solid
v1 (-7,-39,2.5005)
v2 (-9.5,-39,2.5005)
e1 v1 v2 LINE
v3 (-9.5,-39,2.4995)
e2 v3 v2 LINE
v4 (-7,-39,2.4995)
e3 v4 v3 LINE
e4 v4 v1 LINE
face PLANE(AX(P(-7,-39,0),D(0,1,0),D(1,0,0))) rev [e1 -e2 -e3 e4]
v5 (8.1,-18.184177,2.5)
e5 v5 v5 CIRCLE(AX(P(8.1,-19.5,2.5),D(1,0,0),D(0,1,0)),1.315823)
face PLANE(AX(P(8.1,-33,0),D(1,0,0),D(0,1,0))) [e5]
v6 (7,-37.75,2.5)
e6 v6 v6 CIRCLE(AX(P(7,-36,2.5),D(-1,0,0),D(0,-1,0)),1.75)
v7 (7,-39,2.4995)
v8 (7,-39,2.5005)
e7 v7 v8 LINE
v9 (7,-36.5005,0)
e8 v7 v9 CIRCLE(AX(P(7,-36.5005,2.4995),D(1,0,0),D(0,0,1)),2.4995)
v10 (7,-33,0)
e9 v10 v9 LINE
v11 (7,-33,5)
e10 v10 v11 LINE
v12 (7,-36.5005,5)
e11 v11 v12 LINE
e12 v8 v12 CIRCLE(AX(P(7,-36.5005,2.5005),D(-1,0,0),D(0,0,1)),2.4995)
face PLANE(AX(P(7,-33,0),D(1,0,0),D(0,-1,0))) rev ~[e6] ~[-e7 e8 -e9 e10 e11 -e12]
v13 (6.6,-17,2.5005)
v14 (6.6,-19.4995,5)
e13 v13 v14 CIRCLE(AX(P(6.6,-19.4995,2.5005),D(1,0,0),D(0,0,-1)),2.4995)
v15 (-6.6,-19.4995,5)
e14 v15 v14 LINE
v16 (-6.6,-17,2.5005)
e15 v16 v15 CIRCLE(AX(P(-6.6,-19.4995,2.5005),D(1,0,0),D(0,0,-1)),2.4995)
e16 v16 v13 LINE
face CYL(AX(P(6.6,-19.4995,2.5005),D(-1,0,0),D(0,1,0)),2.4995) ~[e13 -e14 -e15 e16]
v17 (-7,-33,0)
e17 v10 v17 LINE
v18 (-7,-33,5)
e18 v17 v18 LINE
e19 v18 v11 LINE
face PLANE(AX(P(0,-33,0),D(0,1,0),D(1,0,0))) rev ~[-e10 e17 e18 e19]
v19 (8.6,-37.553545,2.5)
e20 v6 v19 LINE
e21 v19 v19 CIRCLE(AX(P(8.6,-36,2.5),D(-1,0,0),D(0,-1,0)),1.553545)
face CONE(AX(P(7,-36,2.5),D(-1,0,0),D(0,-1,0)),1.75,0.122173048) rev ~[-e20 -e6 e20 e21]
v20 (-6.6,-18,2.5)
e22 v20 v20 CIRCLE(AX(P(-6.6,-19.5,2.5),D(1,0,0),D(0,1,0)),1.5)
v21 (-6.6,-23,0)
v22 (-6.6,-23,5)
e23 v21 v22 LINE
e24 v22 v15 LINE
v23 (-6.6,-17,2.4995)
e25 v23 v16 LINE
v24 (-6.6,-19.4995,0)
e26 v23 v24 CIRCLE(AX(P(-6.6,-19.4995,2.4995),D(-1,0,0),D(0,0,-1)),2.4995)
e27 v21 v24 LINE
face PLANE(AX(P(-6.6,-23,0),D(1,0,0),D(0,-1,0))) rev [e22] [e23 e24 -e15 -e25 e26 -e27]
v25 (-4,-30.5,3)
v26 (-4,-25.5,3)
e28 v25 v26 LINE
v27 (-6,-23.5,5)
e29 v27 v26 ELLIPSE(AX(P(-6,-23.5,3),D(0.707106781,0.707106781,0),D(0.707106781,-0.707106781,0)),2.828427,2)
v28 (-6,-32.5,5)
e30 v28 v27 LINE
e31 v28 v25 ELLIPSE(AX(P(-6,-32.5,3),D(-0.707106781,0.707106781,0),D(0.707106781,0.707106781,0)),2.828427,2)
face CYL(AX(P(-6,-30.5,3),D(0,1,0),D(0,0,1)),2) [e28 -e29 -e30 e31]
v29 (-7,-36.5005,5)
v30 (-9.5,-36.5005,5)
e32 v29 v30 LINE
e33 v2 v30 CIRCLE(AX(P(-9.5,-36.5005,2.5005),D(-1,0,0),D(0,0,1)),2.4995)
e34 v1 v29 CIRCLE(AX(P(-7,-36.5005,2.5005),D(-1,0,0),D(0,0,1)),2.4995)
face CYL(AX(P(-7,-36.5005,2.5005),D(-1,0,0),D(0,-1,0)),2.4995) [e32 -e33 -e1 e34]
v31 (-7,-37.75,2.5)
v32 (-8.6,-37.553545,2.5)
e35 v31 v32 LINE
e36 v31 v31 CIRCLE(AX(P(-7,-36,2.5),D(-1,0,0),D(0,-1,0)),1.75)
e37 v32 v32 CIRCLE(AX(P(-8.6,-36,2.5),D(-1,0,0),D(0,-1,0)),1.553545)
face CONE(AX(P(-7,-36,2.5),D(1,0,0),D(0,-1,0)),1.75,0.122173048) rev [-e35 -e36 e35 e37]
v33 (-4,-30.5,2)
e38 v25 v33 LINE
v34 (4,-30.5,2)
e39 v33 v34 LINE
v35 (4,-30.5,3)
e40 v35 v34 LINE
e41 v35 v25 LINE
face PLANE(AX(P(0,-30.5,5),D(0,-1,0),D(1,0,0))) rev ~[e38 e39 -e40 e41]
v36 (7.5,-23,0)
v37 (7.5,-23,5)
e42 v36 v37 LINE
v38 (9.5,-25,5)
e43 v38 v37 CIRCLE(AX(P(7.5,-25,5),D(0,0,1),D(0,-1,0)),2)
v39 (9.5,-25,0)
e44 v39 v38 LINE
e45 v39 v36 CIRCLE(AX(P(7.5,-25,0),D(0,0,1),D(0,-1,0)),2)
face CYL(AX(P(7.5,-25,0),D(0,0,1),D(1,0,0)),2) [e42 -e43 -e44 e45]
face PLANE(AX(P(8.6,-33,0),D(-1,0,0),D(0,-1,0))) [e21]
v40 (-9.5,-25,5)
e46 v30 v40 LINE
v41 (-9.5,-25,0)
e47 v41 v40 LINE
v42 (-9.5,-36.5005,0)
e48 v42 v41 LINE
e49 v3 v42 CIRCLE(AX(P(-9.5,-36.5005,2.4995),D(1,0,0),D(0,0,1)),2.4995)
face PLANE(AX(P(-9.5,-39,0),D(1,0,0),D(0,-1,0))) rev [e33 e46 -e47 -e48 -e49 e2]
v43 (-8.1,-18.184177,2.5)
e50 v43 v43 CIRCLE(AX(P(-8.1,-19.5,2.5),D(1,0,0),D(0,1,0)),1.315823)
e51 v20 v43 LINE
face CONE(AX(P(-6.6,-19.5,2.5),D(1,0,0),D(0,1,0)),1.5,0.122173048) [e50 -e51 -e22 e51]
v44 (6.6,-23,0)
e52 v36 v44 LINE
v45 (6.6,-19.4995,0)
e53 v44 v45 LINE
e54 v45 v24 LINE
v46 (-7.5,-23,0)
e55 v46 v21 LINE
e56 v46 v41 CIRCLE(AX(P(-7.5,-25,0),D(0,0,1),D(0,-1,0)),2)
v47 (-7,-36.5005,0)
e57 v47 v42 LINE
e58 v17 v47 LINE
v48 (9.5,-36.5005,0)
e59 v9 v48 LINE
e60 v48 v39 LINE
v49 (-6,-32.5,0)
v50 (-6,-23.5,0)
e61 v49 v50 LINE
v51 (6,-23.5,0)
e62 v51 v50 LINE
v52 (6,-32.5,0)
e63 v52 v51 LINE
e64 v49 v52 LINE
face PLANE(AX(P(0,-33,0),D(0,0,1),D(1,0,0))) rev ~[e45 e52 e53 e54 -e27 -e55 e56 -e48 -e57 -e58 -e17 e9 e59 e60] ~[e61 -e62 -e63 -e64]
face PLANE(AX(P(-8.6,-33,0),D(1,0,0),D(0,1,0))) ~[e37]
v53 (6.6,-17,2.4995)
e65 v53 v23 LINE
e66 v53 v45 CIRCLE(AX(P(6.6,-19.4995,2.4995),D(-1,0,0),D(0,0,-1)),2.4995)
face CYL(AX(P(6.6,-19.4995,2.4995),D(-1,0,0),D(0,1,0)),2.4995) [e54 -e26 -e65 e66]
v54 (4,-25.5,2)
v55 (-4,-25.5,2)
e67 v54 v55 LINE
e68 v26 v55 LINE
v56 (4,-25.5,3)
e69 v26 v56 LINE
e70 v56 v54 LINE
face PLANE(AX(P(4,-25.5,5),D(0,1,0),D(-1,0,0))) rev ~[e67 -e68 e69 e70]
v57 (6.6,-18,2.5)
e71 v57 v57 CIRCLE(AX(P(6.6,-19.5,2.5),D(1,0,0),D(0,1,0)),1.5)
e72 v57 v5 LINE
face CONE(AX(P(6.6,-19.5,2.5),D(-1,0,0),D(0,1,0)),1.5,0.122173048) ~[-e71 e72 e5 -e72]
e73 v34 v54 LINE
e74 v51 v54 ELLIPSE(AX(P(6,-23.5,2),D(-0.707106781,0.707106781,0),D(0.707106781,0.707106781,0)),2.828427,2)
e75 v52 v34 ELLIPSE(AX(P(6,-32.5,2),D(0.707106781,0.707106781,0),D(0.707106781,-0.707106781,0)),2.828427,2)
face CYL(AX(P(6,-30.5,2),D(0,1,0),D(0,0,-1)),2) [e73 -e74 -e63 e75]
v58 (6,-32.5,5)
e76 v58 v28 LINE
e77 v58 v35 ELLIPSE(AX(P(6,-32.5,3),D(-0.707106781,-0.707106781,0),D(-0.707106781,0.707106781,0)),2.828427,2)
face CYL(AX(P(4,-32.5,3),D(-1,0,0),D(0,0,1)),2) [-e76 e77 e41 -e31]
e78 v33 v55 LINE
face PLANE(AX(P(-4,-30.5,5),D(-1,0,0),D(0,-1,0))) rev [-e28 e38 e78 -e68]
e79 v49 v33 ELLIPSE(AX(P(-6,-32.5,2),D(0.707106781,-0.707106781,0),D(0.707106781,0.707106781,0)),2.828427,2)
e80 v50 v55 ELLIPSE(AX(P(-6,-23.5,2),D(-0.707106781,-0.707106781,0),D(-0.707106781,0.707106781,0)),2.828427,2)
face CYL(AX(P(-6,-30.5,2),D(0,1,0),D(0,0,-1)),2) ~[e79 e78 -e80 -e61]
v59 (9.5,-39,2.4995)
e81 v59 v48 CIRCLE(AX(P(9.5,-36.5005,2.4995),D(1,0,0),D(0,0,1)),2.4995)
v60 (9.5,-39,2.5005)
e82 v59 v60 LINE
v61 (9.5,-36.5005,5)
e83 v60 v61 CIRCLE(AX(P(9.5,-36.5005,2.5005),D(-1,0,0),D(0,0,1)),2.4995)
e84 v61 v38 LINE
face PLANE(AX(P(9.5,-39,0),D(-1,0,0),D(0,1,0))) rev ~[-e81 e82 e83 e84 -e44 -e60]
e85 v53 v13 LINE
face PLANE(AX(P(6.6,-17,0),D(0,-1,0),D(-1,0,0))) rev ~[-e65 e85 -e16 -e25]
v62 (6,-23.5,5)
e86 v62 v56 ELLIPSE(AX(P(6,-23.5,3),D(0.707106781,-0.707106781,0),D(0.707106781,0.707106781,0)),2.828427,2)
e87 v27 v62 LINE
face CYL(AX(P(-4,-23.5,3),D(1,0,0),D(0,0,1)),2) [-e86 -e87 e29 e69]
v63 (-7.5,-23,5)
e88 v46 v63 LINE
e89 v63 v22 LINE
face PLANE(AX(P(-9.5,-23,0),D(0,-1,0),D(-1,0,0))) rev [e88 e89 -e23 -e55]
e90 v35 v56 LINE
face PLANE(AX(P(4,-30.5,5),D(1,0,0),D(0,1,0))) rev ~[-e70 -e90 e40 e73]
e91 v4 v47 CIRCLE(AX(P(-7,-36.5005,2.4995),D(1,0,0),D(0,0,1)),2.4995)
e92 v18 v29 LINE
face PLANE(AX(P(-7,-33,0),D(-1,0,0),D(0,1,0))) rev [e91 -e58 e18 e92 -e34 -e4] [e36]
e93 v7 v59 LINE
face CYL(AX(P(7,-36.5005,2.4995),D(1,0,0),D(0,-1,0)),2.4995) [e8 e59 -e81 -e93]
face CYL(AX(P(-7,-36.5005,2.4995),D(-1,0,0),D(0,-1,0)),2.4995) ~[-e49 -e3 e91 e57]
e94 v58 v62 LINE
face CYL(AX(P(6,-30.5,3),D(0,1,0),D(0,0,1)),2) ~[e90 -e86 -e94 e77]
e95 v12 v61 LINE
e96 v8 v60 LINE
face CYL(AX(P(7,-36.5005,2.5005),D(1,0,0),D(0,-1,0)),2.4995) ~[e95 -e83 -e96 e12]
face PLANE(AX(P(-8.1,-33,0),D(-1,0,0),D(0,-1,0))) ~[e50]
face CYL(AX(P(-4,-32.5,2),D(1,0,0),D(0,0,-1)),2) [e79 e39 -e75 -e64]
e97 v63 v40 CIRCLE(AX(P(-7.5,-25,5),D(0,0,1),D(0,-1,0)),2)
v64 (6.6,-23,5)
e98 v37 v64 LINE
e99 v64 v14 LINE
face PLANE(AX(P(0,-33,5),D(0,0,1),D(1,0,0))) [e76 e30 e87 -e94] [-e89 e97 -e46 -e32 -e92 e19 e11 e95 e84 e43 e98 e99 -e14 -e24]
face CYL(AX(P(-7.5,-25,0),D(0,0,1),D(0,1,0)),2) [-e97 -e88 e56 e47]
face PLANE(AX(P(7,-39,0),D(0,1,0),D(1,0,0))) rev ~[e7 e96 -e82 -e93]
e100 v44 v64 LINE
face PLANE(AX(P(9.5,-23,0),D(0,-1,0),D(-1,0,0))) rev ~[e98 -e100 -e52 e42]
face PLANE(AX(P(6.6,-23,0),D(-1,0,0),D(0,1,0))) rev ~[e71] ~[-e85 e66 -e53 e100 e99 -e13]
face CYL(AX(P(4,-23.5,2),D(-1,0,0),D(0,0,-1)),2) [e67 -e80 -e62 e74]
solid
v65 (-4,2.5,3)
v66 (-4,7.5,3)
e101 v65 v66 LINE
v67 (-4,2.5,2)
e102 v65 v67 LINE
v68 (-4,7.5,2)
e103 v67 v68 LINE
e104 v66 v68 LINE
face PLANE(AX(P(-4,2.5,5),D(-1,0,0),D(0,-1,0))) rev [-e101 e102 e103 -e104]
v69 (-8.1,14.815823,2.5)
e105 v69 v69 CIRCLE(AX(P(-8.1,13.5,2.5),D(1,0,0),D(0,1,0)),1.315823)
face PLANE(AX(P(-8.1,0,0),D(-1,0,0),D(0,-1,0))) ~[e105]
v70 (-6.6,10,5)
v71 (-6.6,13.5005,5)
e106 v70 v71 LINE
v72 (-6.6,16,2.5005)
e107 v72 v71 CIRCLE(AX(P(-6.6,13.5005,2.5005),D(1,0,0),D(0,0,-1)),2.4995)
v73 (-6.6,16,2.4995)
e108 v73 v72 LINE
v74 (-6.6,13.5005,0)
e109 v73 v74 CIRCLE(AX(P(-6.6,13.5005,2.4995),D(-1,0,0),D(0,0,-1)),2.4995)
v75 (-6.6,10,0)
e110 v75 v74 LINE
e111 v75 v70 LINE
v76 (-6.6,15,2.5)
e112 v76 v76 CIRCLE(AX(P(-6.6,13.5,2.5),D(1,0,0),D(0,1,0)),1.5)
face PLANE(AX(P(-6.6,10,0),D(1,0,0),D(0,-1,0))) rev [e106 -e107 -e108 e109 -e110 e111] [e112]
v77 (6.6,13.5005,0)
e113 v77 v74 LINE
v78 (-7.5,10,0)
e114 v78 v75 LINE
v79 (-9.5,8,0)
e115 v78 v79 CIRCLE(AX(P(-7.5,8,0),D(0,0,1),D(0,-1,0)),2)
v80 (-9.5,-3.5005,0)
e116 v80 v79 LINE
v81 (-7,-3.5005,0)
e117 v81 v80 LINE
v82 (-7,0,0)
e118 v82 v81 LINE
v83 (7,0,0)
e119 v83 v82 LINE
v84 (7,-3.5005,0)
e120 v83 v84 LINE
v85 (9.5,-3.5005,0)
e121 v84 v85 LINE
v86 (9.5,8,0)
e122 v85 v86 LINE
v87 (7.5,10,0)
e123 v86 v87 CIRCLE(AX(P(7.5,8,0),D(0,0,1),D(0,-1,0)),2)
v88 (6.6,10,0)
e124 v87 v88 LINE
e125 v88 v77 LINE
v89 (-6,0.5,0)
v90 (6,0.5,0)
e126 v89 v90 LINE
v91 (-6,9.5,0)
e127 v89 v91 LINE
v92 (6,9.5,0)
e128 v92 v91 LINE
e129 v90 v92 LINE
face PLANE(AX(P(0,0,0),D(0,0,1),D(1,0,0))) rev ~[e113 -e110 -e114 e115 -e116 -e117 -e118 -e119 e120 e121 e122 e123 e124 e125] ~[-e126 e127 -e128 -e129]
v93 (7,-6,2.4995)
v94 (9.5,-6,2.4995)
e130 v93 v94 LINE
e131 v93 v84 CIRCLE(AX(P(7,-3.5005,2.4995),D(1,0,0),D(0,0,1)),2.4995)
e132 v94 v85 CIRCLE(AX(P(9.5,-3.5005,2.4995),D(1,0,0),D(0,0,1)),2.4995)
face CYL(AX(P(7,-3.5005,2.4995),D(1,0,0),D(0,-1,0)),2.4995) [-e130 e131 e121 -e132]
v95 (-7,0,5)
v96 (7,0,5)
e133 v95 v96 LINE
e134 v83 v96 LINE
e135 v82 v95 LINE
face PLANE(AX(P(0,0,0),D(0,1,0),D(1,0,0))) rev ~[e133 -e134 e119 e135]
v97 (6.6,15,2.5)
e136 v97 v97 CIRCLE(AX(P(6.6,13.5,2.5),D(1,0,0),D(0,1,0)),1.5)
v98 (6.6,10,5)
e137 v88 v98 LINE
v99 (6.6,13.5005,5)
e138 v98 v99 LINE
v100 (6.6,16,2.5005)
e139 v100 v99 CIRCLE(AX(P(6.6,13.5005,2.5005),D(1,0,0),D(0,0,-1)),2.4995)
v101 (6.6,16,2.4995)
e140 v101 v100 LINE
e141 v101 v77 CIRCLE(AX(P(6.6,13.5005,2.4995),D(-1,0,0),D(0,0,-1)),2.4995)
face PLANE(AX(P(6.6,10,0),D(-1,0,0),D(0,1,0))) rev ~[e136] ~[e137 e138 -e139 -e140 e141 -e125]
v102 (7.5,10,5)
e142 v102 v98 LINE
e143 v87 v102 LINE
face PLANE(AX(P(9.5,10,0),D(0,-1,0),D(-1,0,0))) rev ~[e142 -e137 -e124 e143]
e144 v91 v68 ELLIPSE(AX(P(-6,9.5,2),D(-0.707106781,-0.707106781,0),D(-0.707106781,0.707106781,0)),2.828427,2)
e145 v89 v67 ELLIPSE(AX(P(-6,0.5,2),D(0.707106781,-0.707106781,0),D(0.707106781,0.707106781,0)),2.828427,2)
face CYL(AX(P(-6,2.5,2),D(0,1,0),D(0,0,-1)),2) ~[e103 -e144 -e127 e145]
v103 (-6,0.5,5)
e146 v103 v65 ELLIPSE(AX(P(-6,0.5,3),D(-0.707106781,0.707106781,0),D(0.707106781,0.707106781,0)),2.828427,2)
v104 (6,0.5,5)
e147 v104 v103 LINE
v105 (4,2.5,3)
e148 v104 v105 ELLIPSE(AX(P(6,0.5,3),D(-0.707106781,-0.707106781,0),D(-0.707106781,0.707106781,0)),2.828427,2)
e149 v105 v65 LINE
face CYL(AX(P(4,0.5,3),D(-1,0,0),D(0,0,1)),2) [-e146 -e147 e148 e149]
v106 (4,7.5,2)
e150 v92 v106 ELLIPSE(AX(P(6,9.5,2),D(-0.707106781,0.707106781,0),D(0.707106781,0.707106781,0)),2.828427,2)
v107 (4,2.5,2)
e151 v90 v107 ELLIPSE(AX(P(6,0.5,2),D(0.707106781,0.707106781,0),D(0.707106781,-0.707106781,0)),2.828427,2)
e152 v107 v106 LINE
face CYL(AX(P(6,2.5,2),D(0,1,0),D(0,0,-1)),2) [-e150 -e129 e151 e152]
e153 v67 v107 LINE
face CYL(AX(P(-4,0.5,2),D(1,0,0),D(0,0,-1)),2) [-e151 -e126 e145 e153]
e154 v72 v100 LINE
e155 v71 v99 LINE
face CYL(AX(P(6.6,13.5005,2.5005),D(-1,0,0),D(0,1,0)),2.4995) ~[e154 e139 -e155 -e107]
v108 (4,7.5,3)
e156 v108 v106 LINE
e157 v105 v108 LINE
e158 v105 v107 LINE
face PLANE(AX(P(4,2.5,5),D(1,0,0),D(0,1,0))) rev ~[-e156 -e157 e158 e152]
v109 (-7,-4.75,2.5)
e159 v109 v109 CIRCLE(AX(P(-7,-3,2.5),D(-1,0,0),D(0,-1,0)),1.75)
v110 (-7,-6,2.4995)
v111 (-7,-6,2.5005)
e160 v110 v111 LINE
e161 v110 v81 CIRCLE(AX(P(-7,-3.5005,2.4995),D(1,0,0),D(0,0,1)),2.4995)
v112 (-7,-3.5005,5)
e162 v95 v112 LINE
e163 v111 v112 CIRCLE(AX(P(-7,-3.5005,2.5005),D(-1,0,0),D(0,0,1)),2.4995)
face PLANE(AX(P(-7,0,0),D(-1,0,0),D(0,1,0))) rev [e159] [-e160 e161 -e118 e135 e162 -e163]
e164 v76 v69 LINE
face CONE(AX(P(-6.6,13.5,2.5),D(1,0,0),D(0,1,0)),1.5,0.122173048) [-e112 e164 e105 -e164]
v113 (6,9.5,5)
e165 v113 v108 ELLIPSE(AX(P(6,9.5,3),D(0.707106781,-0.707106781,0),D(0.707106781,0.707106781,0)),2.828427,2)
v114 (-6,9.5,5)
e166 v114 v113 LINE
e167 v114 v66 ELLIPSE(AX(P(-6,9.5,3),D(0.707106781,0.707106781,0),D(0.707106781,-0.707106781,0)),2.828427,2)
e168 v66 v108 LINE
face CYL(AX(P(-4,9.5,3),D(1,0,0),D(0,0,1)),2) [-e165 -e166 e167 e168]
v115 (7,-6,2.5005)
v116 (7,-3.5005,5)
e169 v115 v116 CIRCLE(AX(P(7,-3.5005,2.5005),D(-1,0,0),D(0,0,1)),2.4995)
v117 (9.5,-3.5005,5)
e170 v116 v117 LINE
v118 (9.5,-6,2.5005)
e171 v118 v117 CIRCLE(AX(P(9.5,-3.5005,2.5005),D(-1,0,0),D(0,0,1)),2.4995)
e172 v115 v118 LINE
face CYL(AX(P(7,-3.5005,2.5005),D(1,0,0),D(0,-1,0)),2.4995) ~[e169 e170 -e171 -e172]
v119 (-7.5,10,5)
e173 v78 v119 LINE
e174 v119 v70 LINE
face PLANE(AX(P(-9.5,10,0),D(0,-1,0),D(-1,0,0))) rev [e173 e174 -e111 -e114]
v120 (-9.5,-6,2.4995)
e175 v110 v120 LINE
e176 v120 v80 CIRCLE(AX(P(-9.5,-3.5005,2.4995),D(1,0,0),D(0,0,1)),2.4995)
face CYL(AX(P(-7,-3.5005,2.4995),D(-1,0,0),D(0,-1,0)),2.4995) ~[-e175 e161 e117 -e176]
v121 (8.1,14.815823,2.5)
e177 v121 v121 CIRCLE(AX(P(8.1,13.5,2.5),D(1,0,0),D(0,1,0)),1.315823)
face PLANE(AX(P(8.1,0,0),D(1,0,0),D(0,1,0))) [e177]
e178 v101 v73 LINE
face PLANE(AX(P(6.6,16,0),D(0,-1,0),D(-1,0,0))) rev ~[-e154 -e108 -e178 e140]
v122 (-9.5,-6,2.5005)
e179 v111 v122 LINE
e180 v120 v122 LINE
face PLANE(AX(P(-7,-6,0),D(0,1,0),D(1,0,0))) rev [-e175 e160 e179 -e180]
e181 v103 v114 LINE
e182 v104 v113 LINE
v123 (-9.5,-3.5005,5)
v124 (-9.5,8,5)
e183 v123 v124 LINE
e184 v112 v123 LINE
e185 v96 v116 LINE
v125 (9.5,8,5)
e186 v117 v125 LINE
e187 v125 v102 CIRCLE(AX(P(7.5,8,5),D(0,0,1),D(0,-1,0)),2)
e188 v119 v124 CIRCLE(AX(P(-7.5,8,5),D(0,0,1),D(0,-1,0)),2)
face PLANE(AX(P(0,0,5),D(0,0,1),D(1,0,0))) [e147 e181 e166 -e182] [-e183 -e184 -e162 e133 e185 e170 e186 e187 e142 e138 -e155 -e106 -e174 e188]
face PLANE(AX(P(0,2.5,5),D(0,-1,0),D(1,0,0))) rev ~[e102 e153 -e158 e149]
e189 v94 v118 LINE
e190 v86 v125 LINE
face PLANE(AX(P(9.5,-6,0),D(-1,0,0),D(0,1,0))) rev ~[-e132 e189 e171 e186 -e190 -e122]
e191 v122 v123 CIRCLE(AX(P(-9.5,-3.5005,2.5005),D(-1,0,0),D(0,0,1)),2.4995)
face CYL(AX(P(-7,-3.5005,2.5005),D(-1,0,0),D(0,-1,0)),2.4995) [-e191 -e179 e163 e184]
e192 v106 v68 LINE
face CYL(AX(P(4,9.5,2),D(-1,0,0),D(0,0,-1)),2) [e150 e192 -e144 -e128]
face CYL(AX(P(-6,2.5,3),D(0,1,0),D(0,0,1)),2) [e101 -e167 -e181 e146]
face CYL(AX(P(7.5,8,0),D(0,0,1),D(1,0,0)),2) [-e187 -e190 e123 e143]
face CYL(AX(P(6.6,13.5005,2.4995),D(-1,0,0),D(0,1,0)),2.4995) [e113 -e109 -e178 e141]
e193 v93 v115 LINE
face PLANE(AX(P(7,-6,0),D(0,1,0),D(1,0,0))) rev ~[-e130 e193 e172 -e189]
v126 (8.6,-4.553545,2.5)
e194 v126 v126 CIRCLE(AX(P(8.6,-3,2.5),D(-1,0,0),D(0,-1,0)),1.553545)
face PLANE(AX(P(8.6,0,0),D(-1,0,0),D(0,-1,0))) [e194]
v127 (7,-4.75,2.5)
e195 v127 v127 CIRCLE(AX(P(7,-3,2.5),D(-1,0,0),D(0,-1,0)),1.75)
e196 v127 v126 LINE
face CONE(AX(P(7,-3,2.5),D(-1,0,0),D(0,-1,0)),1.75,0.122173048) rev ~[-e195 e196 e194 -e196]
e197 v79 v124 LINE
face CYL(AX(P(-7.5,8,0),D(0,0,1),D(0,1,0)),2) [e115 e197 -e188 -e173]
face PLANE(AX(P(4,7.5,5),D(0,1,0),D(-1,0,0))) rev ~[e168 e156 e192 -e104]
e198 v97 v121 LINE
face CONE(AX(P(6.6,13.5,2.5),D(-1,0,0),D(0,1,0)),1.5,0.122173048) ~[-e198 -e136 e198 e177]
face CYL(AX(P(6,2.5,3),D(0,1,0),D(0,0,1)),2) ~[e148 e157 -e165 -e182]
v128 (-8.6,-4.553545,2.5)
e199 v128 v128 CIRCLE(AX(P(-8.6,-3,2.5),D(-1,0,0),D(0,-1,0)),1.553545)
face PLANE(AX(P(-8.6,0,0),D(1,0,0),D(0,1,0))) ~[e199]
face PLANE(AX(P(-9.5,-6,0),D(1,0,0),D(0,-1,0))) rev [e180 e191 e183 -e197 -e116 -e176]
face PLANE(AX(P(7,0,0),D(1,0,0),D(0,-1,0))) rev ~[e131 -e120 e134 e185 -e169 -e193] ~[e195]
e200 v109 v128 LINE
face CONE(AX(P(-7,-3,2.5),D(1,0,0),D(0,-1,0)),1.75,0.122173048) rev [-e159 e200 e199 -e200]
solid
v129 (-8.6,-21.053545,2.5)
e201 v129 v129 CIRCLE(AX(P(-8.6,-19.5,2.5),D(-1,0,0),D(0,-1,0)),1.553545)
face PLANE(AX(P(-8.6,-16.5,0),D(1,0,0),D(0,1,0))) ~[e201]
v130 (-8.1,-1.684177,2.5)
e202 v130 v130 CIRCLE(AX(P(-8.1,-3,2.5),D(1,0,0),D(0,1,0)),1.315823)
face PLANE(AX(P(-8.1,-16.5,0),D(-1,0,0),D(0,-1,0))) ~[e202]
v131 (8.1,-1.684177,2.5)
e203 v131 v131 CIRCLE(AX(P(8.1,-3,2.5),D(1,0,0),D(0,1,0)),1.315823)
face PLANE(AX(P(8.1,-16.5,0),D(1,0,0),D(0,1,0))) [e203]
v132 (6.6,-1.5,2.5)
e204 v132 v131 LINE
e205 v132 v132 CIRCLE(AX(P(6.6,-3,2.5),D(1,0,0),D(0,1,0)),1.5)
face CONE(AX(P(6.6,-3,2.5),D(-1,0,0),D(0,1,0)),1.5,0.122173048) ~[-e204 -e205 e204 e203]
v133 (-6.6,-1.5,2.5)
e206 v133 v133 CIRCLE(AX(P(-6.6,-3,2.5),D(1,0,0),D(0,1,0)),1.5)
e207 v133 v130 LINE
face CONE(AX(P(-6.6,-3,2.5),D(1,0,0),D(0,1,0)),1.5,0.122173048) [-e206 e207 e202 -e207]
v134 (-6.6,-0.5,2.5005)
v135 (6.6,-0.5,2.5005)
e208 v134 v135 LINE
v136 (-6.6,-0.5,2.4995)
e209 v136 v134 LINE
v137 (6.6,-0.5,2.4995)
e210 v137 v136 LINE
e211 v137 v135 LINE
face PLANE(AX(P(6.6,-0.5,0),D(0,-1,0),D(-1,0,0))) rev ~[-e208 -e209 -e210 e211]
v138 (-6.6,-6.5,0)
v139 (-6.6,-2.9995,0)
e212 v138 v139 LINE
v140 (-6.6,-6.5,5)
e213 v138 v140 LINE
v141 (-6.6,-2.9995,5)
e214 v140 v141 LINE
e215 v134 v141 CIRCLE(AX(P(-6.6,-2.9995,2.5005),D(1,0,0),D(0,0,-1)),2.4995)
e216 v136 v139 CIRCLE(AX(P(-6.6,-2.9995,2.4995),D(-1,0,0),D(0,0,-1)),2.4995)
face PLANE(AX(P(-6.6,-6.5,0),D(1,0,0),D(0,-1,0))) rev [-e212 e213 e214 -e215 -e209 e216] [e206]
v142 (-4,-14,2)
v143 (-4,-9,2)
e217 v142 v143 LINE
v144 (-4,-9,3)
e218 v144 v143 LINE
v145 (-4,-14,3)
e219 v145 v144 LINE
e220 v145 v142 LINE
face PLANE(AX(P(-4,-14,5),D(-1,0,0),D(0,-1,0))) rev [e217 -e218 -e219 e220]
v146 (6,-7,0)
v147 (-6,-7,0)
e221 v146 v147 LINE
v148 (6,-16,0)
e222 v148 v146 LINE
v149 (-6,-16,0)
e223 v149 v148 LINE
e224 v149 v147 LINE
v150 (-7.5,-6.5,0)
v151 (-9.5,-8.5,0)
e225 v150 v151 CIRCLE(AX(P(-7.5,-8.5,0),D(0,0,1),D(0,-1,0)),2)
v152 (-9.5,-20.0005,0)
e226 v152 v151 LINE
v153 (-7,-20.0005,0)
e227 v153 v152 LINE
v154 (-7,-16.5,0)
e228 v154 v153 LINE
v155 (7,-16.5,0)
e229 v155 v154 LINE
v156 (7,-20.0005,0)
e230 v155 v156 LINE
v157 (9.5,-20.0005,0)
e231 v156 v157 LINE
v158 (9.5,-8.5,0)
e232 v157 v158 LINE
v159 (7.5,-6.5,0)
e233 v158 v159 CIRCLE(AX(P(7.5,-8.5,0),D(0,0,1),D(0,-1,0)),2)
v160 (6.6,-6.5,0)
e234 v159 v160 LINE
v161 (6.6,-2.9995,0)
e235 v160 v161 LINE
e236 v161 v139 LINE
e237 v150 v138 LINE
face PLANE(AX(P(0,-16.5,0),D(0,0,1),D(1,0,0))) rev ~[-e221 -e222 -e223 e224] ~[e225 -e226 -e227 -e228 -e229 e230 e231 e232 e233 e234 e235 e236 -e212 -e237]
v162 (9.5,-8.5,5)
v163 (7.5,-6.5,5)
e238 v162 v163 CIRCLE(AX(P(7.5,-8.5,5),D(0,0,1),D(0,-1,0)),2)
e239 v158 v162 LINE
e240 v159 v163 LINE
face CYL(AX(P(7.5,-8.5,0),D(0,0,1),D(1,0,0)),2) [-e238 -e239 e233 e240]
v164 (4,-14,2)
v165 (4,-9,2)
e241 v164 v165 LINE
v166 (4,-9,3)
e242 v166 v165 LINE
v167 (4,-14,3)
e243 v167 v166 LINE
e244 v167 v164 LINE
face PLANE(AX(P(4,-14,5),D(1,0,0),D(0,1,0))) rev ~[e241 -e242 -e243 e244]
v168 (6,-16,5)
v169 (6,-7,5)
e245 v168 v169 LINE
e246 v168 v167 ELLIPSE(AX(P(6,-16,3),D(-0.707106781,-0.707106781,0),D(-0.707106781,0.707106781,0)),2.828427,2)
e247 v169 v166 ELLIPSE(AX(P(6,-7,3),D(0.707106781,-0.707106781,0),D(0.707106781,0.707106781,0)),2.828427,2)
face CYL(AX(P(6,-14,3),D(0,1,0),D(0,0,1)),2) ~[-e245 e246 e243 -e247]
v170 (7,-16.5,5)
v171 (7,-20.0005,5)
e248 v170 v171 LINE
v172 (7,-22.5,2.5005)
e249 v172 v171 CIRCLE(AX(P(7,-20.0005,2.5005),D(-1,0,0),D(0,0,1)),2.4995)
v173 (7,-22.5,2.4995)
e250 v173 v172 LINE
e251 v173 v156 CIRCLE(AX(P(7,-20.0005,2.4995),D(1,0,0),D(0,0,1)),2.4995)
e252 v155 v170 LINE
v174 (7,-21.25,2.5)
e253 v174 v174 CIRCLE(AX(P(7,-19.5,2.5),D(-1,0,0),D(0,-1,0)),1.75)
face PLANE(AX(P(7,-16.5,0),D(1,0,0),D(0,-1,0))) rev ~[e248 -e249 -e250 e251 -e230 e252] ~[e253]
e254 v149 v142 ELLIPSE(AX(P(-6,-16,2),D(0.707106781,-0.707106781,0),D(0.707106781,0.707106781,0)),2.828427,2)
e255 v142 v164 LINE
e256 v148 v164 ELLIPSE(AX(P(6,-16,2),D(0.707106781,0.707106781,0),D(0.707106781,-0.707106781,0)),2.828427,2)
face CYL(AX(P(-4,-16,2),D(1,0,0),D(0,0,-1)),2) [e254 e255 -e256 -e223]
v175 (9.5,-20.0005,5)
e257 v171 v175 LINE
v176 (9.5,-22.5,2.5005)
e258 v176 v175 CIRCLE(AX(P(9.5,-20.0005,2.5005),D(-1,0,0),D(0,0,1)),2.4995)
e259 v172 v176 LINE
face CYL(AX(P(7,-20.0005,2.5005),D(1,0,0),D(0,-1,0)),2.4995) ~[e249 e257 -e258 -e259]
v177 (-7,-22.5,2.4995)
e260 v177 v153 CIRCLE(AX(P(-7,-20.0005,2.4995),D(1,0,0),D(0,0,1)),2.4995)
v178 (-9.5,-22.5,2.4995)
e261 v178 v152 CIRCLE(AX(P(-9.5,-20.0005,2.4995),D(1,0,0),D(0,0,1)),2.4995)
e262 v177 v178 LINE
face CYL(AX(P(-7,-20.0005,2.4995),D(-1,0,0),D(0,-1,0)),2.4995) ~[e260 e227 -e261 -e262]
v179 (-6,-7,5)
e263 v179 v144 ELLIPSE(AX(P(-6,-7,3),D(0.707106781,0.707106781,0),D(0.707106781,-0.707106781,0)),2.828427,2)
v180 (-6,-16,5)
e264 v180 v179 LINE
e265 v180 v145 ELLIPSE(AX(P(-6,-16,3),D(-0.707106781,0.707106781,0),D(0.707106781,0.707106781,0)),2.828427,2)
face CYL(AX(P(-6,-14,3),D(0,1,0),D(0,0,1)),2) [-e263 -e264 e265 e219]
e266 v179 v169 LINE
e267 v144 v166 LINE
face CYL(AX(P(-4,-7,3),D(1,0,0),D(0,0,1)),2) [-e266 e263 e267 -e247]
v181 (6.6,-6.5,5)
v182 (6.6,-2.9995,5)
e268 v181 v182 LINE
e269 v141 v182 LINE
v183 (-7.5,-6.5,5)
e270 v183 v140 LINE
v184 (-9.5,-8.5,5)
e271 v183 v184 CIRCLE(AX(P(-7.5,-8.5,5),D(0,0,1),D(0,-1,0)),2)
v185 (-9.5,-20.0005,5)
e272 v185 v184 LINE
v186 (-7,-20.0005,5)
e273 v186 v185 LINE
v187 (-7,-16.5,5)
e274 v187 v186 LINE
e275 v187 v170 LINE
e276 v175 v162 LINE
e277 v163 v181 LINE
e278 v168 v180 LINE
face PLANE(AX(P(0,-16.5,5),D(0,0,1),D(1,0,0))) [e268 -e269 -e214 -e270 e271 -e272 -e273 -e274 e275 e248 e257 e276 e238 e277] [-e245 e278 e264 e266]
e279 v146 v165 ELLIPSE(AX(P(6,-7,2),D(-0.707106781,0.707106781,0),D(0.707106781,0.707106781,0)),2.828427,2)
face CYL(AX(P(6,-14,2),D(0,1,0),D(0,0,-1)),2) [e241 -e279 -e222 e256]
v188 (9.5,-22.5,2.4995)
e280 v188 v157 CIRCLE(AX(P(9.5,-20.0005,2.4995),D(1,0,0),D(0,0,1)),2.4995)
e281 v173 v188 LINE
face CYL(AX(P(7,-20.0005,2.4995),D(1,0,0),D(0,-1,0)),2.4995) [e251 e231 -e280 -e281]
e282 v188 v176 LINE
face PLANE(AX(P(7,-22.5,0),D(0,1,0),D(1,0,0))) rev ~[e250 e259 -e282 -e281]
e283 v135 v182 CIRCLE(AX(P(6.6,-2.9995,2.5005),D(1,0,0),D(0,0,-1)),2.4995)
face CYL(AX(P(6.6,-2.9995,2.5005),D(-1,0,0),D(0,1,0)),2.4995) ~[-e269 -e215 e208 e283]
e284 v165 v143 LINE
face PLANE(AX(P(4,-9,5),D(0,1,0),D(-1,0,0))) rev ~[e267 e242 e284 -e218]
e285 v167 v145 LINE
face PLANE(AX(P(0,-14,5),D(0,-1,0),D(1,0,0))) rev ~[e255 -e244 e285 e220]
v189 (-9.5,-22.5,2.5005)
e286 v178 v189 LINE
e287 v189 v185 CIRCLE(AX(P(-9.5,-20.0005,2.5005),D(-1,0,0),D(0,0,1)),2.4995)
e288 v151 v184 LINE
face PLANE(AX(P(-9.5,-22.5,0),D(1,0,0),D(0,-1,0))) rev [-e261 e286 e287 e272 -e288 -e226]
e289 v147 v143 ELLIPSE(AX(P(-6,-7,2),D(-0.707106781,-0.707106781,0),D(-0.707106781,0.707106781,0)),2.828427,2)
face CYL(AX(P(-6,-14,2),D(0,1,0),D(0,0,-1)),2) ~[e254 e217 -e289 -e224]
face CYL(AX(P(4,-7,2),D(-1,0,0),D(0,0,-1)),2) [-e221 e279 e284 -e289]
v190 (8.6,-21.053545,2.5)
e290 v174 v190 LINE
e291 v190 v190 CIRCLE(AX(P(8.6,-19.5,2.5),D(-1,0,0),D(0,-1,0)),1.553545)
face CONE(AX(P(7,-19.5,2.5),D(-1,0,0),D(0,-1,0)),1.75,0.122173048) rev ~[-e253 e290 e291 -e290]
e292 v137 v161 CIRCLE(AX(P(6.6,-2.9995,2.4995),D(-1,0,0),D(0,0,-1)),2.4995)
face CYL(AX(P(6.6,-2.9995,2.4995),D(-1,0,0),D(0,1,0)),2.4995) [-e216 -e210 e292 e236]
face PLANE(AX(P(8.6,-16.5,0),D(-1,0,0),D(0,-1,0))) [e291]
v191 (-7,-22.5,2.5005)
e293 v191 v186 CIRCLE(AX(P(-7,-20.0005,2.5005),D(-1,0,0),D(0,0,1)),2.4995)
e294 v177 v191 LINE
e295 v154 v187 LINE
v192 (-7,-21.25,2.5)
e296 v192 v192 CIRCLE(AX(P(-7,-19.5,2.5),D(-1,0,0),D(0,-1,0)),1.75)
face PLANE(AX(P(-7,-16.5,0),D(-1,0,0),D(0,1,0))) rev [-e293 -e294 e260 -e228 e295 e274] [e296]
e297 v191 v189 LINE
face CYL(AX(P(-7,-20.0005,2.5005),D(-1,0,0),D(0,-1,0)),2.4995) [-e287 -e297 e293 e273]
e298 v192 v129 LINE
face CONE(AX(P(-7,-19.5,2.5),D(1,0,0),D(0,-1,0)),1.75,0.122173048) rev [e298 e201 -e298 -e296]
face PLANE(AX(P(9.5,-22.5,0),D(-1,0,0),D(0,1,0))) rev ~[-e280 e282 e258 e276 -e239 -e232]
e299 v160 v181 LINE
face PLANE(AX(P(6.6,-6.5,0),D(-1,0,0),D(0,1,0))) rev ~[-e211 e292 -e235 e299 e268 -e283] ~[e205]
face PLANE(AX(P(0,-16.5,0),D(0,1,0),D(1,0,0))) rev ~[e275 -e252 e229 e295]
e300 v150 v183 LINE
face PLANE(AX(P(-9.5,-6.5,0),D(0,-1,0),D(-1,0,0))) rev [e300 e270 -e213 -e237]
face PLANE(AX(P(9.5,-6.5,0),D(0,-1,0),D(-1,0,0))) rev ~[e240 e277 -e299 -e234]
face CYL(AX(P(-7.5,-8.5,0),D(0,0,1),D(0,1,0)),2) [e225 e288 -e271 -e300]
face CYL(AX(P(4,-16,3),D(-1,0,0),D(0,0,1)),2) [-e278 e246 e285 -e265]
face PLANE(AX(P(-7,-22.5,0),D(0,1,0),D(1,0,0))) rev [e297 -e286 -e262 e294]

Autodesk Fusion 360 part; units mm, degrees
sketch "Sketch1" plane through (0, 0, 0) normal (0, 0, 1) x (1, 0, 0)
  line L0 (0, 0) -> (0, 16)
  line L1 (0, 0) -> (7, 0)
  line L2 (7, 0) -> (7, -6)
  line L3 (7, -6) -> (9.5, -6)
  line L4 (9.5, -6) -> (9.5, 10)
  line L5 (9.5, 10) -> (6.6, 10)
  line L6 (6.6, 10) -> (6.6, 16)
  line L7 (6.6, 16) -> (0, 16)
  dimension "d1" = 16
  dimension "d2" = 7
  dimension "d3" = 2.5
  dimension "d4" = 2.9
extrude "Extrude1" add sketch "Sketch1" along normal blind 5 makes body 1
fillet "Fillet1" radius 2.5 4 edges at (8.25, -6, 5) (8.25, -6, 0) (3.3, 16, 5) (3.3, 16, 0) on bodies 1
sketch "Sketch2" plane through (6.6, 0, 0) normal (1, 0, 0) x (0, 1, 0)
  arc A0 (13.5, 0) -> (13.5, 5) centre (13.5, 2.5) ccw
  line L0 (13.5, 5) -> (10, 5)
  line L1 (10, 5) -> (10, 0)
  line L2 (10, 0) -> (13.5, 0)
  circle A1 centre (13.5, 2.5) radius 1.5
extrude "Extrude2" add sketch "Sketch2" along normal blind 1.5 draft -7 contours A1 bodies 1
sketch "Sketch3" plane through (7, 0, 0) normal (-1, 0, 0) x (0, -1, 0)
  arc A0 (3.5, 0) -> (3.5, 5) centre (3.5, 2.5) ccw
  line L0 (3.5, 5) -> (0, 5)
  line L1 (0, 5) -> (0, 0)
  line L2 (0, 0) -> (3.5, 0)
  line L3 (0, 2.5) -> (3, 2.5) construction
  circle A1 centre (3, 2.5) radius 1.75
  dimension "d11" = 3
  dimension "d12" = 3.5
extrude "Extrude3" cut sketch "Sketch3" against normal up to surface (1.6 mm away) draft -7 contours A1 bodies 1
sketch "Sketch4" plane through (0, 0, 5) normal (0, 0, 1) x (-1, 0, 0)
  line L0 (-6.6, -13.5) -> (0, -13.5)
  line L1 (0, -13.5) -> (0, 0)
  line L2 (0, 0) -> (-7, 0)
  line L3 (-7, 0) -> (-7, 3.5)
  line L4 (-7, 3.5) -> (-9.5, 3.5)
  line L5 (-9.5, 3.5) -> (-9.5, -10)
  line L6 (-9.5, -10) -> (-6.6, -10)
  line L7 (-6.6, -10) -> (-6.6, -13.5)
  line L8 (0, -2.5) -> (-4, -2.5)
  line L9 (-4, -2.5) -> (-4, -7.5)
  line L10 (-4, -7.5) -> (0, -7.5)
  line L11 (0, -7.5) -> (0, -2.5)
  dimension "d15" = 4
  dimension "d16" = 5
  dimension "d17" = 2.5
extrude "Extrude4" cut sketch "Sketch4" against normal blind 9 contours L1 L8 L9 L10 L11 bodies 1
mirror "Mirror1" about plane through (0, 0, 0) normal (1, 0, 0) of bodies 1 merged
fillet "Fillet2" radius 2 8 edges at (0, 7.5, 5) (-4, 5, 5) (0, 2.5, 5) (4, 5, 5) (0, 2.5, 0) (4, 5, 0) (-4, 5, 0) (0, 7.5, 0) on bodies 1
fillet "Fillet3" radius 2 2 edges at (-9.5, 10, 2.5) (9.5, 10, 2.5) on bodies 1
pattern_linear "R-Pattern1" count 3 spacing 16.5 along (0, -1, 0) of bodies 1 makes body 2 at (-2, -4.333, 0) makes body 3 at (-2, -20.833, 0)
copy_body "CutPasteBodies1" bodies 1 2 3 removing the originals makes body 4 makes body 5 makes body 6 in component "sbu"
component "sbu" placed x (1, 0, 0) y (0, 1, 0) z (0, 0, 1) at (0, 0, 0)
